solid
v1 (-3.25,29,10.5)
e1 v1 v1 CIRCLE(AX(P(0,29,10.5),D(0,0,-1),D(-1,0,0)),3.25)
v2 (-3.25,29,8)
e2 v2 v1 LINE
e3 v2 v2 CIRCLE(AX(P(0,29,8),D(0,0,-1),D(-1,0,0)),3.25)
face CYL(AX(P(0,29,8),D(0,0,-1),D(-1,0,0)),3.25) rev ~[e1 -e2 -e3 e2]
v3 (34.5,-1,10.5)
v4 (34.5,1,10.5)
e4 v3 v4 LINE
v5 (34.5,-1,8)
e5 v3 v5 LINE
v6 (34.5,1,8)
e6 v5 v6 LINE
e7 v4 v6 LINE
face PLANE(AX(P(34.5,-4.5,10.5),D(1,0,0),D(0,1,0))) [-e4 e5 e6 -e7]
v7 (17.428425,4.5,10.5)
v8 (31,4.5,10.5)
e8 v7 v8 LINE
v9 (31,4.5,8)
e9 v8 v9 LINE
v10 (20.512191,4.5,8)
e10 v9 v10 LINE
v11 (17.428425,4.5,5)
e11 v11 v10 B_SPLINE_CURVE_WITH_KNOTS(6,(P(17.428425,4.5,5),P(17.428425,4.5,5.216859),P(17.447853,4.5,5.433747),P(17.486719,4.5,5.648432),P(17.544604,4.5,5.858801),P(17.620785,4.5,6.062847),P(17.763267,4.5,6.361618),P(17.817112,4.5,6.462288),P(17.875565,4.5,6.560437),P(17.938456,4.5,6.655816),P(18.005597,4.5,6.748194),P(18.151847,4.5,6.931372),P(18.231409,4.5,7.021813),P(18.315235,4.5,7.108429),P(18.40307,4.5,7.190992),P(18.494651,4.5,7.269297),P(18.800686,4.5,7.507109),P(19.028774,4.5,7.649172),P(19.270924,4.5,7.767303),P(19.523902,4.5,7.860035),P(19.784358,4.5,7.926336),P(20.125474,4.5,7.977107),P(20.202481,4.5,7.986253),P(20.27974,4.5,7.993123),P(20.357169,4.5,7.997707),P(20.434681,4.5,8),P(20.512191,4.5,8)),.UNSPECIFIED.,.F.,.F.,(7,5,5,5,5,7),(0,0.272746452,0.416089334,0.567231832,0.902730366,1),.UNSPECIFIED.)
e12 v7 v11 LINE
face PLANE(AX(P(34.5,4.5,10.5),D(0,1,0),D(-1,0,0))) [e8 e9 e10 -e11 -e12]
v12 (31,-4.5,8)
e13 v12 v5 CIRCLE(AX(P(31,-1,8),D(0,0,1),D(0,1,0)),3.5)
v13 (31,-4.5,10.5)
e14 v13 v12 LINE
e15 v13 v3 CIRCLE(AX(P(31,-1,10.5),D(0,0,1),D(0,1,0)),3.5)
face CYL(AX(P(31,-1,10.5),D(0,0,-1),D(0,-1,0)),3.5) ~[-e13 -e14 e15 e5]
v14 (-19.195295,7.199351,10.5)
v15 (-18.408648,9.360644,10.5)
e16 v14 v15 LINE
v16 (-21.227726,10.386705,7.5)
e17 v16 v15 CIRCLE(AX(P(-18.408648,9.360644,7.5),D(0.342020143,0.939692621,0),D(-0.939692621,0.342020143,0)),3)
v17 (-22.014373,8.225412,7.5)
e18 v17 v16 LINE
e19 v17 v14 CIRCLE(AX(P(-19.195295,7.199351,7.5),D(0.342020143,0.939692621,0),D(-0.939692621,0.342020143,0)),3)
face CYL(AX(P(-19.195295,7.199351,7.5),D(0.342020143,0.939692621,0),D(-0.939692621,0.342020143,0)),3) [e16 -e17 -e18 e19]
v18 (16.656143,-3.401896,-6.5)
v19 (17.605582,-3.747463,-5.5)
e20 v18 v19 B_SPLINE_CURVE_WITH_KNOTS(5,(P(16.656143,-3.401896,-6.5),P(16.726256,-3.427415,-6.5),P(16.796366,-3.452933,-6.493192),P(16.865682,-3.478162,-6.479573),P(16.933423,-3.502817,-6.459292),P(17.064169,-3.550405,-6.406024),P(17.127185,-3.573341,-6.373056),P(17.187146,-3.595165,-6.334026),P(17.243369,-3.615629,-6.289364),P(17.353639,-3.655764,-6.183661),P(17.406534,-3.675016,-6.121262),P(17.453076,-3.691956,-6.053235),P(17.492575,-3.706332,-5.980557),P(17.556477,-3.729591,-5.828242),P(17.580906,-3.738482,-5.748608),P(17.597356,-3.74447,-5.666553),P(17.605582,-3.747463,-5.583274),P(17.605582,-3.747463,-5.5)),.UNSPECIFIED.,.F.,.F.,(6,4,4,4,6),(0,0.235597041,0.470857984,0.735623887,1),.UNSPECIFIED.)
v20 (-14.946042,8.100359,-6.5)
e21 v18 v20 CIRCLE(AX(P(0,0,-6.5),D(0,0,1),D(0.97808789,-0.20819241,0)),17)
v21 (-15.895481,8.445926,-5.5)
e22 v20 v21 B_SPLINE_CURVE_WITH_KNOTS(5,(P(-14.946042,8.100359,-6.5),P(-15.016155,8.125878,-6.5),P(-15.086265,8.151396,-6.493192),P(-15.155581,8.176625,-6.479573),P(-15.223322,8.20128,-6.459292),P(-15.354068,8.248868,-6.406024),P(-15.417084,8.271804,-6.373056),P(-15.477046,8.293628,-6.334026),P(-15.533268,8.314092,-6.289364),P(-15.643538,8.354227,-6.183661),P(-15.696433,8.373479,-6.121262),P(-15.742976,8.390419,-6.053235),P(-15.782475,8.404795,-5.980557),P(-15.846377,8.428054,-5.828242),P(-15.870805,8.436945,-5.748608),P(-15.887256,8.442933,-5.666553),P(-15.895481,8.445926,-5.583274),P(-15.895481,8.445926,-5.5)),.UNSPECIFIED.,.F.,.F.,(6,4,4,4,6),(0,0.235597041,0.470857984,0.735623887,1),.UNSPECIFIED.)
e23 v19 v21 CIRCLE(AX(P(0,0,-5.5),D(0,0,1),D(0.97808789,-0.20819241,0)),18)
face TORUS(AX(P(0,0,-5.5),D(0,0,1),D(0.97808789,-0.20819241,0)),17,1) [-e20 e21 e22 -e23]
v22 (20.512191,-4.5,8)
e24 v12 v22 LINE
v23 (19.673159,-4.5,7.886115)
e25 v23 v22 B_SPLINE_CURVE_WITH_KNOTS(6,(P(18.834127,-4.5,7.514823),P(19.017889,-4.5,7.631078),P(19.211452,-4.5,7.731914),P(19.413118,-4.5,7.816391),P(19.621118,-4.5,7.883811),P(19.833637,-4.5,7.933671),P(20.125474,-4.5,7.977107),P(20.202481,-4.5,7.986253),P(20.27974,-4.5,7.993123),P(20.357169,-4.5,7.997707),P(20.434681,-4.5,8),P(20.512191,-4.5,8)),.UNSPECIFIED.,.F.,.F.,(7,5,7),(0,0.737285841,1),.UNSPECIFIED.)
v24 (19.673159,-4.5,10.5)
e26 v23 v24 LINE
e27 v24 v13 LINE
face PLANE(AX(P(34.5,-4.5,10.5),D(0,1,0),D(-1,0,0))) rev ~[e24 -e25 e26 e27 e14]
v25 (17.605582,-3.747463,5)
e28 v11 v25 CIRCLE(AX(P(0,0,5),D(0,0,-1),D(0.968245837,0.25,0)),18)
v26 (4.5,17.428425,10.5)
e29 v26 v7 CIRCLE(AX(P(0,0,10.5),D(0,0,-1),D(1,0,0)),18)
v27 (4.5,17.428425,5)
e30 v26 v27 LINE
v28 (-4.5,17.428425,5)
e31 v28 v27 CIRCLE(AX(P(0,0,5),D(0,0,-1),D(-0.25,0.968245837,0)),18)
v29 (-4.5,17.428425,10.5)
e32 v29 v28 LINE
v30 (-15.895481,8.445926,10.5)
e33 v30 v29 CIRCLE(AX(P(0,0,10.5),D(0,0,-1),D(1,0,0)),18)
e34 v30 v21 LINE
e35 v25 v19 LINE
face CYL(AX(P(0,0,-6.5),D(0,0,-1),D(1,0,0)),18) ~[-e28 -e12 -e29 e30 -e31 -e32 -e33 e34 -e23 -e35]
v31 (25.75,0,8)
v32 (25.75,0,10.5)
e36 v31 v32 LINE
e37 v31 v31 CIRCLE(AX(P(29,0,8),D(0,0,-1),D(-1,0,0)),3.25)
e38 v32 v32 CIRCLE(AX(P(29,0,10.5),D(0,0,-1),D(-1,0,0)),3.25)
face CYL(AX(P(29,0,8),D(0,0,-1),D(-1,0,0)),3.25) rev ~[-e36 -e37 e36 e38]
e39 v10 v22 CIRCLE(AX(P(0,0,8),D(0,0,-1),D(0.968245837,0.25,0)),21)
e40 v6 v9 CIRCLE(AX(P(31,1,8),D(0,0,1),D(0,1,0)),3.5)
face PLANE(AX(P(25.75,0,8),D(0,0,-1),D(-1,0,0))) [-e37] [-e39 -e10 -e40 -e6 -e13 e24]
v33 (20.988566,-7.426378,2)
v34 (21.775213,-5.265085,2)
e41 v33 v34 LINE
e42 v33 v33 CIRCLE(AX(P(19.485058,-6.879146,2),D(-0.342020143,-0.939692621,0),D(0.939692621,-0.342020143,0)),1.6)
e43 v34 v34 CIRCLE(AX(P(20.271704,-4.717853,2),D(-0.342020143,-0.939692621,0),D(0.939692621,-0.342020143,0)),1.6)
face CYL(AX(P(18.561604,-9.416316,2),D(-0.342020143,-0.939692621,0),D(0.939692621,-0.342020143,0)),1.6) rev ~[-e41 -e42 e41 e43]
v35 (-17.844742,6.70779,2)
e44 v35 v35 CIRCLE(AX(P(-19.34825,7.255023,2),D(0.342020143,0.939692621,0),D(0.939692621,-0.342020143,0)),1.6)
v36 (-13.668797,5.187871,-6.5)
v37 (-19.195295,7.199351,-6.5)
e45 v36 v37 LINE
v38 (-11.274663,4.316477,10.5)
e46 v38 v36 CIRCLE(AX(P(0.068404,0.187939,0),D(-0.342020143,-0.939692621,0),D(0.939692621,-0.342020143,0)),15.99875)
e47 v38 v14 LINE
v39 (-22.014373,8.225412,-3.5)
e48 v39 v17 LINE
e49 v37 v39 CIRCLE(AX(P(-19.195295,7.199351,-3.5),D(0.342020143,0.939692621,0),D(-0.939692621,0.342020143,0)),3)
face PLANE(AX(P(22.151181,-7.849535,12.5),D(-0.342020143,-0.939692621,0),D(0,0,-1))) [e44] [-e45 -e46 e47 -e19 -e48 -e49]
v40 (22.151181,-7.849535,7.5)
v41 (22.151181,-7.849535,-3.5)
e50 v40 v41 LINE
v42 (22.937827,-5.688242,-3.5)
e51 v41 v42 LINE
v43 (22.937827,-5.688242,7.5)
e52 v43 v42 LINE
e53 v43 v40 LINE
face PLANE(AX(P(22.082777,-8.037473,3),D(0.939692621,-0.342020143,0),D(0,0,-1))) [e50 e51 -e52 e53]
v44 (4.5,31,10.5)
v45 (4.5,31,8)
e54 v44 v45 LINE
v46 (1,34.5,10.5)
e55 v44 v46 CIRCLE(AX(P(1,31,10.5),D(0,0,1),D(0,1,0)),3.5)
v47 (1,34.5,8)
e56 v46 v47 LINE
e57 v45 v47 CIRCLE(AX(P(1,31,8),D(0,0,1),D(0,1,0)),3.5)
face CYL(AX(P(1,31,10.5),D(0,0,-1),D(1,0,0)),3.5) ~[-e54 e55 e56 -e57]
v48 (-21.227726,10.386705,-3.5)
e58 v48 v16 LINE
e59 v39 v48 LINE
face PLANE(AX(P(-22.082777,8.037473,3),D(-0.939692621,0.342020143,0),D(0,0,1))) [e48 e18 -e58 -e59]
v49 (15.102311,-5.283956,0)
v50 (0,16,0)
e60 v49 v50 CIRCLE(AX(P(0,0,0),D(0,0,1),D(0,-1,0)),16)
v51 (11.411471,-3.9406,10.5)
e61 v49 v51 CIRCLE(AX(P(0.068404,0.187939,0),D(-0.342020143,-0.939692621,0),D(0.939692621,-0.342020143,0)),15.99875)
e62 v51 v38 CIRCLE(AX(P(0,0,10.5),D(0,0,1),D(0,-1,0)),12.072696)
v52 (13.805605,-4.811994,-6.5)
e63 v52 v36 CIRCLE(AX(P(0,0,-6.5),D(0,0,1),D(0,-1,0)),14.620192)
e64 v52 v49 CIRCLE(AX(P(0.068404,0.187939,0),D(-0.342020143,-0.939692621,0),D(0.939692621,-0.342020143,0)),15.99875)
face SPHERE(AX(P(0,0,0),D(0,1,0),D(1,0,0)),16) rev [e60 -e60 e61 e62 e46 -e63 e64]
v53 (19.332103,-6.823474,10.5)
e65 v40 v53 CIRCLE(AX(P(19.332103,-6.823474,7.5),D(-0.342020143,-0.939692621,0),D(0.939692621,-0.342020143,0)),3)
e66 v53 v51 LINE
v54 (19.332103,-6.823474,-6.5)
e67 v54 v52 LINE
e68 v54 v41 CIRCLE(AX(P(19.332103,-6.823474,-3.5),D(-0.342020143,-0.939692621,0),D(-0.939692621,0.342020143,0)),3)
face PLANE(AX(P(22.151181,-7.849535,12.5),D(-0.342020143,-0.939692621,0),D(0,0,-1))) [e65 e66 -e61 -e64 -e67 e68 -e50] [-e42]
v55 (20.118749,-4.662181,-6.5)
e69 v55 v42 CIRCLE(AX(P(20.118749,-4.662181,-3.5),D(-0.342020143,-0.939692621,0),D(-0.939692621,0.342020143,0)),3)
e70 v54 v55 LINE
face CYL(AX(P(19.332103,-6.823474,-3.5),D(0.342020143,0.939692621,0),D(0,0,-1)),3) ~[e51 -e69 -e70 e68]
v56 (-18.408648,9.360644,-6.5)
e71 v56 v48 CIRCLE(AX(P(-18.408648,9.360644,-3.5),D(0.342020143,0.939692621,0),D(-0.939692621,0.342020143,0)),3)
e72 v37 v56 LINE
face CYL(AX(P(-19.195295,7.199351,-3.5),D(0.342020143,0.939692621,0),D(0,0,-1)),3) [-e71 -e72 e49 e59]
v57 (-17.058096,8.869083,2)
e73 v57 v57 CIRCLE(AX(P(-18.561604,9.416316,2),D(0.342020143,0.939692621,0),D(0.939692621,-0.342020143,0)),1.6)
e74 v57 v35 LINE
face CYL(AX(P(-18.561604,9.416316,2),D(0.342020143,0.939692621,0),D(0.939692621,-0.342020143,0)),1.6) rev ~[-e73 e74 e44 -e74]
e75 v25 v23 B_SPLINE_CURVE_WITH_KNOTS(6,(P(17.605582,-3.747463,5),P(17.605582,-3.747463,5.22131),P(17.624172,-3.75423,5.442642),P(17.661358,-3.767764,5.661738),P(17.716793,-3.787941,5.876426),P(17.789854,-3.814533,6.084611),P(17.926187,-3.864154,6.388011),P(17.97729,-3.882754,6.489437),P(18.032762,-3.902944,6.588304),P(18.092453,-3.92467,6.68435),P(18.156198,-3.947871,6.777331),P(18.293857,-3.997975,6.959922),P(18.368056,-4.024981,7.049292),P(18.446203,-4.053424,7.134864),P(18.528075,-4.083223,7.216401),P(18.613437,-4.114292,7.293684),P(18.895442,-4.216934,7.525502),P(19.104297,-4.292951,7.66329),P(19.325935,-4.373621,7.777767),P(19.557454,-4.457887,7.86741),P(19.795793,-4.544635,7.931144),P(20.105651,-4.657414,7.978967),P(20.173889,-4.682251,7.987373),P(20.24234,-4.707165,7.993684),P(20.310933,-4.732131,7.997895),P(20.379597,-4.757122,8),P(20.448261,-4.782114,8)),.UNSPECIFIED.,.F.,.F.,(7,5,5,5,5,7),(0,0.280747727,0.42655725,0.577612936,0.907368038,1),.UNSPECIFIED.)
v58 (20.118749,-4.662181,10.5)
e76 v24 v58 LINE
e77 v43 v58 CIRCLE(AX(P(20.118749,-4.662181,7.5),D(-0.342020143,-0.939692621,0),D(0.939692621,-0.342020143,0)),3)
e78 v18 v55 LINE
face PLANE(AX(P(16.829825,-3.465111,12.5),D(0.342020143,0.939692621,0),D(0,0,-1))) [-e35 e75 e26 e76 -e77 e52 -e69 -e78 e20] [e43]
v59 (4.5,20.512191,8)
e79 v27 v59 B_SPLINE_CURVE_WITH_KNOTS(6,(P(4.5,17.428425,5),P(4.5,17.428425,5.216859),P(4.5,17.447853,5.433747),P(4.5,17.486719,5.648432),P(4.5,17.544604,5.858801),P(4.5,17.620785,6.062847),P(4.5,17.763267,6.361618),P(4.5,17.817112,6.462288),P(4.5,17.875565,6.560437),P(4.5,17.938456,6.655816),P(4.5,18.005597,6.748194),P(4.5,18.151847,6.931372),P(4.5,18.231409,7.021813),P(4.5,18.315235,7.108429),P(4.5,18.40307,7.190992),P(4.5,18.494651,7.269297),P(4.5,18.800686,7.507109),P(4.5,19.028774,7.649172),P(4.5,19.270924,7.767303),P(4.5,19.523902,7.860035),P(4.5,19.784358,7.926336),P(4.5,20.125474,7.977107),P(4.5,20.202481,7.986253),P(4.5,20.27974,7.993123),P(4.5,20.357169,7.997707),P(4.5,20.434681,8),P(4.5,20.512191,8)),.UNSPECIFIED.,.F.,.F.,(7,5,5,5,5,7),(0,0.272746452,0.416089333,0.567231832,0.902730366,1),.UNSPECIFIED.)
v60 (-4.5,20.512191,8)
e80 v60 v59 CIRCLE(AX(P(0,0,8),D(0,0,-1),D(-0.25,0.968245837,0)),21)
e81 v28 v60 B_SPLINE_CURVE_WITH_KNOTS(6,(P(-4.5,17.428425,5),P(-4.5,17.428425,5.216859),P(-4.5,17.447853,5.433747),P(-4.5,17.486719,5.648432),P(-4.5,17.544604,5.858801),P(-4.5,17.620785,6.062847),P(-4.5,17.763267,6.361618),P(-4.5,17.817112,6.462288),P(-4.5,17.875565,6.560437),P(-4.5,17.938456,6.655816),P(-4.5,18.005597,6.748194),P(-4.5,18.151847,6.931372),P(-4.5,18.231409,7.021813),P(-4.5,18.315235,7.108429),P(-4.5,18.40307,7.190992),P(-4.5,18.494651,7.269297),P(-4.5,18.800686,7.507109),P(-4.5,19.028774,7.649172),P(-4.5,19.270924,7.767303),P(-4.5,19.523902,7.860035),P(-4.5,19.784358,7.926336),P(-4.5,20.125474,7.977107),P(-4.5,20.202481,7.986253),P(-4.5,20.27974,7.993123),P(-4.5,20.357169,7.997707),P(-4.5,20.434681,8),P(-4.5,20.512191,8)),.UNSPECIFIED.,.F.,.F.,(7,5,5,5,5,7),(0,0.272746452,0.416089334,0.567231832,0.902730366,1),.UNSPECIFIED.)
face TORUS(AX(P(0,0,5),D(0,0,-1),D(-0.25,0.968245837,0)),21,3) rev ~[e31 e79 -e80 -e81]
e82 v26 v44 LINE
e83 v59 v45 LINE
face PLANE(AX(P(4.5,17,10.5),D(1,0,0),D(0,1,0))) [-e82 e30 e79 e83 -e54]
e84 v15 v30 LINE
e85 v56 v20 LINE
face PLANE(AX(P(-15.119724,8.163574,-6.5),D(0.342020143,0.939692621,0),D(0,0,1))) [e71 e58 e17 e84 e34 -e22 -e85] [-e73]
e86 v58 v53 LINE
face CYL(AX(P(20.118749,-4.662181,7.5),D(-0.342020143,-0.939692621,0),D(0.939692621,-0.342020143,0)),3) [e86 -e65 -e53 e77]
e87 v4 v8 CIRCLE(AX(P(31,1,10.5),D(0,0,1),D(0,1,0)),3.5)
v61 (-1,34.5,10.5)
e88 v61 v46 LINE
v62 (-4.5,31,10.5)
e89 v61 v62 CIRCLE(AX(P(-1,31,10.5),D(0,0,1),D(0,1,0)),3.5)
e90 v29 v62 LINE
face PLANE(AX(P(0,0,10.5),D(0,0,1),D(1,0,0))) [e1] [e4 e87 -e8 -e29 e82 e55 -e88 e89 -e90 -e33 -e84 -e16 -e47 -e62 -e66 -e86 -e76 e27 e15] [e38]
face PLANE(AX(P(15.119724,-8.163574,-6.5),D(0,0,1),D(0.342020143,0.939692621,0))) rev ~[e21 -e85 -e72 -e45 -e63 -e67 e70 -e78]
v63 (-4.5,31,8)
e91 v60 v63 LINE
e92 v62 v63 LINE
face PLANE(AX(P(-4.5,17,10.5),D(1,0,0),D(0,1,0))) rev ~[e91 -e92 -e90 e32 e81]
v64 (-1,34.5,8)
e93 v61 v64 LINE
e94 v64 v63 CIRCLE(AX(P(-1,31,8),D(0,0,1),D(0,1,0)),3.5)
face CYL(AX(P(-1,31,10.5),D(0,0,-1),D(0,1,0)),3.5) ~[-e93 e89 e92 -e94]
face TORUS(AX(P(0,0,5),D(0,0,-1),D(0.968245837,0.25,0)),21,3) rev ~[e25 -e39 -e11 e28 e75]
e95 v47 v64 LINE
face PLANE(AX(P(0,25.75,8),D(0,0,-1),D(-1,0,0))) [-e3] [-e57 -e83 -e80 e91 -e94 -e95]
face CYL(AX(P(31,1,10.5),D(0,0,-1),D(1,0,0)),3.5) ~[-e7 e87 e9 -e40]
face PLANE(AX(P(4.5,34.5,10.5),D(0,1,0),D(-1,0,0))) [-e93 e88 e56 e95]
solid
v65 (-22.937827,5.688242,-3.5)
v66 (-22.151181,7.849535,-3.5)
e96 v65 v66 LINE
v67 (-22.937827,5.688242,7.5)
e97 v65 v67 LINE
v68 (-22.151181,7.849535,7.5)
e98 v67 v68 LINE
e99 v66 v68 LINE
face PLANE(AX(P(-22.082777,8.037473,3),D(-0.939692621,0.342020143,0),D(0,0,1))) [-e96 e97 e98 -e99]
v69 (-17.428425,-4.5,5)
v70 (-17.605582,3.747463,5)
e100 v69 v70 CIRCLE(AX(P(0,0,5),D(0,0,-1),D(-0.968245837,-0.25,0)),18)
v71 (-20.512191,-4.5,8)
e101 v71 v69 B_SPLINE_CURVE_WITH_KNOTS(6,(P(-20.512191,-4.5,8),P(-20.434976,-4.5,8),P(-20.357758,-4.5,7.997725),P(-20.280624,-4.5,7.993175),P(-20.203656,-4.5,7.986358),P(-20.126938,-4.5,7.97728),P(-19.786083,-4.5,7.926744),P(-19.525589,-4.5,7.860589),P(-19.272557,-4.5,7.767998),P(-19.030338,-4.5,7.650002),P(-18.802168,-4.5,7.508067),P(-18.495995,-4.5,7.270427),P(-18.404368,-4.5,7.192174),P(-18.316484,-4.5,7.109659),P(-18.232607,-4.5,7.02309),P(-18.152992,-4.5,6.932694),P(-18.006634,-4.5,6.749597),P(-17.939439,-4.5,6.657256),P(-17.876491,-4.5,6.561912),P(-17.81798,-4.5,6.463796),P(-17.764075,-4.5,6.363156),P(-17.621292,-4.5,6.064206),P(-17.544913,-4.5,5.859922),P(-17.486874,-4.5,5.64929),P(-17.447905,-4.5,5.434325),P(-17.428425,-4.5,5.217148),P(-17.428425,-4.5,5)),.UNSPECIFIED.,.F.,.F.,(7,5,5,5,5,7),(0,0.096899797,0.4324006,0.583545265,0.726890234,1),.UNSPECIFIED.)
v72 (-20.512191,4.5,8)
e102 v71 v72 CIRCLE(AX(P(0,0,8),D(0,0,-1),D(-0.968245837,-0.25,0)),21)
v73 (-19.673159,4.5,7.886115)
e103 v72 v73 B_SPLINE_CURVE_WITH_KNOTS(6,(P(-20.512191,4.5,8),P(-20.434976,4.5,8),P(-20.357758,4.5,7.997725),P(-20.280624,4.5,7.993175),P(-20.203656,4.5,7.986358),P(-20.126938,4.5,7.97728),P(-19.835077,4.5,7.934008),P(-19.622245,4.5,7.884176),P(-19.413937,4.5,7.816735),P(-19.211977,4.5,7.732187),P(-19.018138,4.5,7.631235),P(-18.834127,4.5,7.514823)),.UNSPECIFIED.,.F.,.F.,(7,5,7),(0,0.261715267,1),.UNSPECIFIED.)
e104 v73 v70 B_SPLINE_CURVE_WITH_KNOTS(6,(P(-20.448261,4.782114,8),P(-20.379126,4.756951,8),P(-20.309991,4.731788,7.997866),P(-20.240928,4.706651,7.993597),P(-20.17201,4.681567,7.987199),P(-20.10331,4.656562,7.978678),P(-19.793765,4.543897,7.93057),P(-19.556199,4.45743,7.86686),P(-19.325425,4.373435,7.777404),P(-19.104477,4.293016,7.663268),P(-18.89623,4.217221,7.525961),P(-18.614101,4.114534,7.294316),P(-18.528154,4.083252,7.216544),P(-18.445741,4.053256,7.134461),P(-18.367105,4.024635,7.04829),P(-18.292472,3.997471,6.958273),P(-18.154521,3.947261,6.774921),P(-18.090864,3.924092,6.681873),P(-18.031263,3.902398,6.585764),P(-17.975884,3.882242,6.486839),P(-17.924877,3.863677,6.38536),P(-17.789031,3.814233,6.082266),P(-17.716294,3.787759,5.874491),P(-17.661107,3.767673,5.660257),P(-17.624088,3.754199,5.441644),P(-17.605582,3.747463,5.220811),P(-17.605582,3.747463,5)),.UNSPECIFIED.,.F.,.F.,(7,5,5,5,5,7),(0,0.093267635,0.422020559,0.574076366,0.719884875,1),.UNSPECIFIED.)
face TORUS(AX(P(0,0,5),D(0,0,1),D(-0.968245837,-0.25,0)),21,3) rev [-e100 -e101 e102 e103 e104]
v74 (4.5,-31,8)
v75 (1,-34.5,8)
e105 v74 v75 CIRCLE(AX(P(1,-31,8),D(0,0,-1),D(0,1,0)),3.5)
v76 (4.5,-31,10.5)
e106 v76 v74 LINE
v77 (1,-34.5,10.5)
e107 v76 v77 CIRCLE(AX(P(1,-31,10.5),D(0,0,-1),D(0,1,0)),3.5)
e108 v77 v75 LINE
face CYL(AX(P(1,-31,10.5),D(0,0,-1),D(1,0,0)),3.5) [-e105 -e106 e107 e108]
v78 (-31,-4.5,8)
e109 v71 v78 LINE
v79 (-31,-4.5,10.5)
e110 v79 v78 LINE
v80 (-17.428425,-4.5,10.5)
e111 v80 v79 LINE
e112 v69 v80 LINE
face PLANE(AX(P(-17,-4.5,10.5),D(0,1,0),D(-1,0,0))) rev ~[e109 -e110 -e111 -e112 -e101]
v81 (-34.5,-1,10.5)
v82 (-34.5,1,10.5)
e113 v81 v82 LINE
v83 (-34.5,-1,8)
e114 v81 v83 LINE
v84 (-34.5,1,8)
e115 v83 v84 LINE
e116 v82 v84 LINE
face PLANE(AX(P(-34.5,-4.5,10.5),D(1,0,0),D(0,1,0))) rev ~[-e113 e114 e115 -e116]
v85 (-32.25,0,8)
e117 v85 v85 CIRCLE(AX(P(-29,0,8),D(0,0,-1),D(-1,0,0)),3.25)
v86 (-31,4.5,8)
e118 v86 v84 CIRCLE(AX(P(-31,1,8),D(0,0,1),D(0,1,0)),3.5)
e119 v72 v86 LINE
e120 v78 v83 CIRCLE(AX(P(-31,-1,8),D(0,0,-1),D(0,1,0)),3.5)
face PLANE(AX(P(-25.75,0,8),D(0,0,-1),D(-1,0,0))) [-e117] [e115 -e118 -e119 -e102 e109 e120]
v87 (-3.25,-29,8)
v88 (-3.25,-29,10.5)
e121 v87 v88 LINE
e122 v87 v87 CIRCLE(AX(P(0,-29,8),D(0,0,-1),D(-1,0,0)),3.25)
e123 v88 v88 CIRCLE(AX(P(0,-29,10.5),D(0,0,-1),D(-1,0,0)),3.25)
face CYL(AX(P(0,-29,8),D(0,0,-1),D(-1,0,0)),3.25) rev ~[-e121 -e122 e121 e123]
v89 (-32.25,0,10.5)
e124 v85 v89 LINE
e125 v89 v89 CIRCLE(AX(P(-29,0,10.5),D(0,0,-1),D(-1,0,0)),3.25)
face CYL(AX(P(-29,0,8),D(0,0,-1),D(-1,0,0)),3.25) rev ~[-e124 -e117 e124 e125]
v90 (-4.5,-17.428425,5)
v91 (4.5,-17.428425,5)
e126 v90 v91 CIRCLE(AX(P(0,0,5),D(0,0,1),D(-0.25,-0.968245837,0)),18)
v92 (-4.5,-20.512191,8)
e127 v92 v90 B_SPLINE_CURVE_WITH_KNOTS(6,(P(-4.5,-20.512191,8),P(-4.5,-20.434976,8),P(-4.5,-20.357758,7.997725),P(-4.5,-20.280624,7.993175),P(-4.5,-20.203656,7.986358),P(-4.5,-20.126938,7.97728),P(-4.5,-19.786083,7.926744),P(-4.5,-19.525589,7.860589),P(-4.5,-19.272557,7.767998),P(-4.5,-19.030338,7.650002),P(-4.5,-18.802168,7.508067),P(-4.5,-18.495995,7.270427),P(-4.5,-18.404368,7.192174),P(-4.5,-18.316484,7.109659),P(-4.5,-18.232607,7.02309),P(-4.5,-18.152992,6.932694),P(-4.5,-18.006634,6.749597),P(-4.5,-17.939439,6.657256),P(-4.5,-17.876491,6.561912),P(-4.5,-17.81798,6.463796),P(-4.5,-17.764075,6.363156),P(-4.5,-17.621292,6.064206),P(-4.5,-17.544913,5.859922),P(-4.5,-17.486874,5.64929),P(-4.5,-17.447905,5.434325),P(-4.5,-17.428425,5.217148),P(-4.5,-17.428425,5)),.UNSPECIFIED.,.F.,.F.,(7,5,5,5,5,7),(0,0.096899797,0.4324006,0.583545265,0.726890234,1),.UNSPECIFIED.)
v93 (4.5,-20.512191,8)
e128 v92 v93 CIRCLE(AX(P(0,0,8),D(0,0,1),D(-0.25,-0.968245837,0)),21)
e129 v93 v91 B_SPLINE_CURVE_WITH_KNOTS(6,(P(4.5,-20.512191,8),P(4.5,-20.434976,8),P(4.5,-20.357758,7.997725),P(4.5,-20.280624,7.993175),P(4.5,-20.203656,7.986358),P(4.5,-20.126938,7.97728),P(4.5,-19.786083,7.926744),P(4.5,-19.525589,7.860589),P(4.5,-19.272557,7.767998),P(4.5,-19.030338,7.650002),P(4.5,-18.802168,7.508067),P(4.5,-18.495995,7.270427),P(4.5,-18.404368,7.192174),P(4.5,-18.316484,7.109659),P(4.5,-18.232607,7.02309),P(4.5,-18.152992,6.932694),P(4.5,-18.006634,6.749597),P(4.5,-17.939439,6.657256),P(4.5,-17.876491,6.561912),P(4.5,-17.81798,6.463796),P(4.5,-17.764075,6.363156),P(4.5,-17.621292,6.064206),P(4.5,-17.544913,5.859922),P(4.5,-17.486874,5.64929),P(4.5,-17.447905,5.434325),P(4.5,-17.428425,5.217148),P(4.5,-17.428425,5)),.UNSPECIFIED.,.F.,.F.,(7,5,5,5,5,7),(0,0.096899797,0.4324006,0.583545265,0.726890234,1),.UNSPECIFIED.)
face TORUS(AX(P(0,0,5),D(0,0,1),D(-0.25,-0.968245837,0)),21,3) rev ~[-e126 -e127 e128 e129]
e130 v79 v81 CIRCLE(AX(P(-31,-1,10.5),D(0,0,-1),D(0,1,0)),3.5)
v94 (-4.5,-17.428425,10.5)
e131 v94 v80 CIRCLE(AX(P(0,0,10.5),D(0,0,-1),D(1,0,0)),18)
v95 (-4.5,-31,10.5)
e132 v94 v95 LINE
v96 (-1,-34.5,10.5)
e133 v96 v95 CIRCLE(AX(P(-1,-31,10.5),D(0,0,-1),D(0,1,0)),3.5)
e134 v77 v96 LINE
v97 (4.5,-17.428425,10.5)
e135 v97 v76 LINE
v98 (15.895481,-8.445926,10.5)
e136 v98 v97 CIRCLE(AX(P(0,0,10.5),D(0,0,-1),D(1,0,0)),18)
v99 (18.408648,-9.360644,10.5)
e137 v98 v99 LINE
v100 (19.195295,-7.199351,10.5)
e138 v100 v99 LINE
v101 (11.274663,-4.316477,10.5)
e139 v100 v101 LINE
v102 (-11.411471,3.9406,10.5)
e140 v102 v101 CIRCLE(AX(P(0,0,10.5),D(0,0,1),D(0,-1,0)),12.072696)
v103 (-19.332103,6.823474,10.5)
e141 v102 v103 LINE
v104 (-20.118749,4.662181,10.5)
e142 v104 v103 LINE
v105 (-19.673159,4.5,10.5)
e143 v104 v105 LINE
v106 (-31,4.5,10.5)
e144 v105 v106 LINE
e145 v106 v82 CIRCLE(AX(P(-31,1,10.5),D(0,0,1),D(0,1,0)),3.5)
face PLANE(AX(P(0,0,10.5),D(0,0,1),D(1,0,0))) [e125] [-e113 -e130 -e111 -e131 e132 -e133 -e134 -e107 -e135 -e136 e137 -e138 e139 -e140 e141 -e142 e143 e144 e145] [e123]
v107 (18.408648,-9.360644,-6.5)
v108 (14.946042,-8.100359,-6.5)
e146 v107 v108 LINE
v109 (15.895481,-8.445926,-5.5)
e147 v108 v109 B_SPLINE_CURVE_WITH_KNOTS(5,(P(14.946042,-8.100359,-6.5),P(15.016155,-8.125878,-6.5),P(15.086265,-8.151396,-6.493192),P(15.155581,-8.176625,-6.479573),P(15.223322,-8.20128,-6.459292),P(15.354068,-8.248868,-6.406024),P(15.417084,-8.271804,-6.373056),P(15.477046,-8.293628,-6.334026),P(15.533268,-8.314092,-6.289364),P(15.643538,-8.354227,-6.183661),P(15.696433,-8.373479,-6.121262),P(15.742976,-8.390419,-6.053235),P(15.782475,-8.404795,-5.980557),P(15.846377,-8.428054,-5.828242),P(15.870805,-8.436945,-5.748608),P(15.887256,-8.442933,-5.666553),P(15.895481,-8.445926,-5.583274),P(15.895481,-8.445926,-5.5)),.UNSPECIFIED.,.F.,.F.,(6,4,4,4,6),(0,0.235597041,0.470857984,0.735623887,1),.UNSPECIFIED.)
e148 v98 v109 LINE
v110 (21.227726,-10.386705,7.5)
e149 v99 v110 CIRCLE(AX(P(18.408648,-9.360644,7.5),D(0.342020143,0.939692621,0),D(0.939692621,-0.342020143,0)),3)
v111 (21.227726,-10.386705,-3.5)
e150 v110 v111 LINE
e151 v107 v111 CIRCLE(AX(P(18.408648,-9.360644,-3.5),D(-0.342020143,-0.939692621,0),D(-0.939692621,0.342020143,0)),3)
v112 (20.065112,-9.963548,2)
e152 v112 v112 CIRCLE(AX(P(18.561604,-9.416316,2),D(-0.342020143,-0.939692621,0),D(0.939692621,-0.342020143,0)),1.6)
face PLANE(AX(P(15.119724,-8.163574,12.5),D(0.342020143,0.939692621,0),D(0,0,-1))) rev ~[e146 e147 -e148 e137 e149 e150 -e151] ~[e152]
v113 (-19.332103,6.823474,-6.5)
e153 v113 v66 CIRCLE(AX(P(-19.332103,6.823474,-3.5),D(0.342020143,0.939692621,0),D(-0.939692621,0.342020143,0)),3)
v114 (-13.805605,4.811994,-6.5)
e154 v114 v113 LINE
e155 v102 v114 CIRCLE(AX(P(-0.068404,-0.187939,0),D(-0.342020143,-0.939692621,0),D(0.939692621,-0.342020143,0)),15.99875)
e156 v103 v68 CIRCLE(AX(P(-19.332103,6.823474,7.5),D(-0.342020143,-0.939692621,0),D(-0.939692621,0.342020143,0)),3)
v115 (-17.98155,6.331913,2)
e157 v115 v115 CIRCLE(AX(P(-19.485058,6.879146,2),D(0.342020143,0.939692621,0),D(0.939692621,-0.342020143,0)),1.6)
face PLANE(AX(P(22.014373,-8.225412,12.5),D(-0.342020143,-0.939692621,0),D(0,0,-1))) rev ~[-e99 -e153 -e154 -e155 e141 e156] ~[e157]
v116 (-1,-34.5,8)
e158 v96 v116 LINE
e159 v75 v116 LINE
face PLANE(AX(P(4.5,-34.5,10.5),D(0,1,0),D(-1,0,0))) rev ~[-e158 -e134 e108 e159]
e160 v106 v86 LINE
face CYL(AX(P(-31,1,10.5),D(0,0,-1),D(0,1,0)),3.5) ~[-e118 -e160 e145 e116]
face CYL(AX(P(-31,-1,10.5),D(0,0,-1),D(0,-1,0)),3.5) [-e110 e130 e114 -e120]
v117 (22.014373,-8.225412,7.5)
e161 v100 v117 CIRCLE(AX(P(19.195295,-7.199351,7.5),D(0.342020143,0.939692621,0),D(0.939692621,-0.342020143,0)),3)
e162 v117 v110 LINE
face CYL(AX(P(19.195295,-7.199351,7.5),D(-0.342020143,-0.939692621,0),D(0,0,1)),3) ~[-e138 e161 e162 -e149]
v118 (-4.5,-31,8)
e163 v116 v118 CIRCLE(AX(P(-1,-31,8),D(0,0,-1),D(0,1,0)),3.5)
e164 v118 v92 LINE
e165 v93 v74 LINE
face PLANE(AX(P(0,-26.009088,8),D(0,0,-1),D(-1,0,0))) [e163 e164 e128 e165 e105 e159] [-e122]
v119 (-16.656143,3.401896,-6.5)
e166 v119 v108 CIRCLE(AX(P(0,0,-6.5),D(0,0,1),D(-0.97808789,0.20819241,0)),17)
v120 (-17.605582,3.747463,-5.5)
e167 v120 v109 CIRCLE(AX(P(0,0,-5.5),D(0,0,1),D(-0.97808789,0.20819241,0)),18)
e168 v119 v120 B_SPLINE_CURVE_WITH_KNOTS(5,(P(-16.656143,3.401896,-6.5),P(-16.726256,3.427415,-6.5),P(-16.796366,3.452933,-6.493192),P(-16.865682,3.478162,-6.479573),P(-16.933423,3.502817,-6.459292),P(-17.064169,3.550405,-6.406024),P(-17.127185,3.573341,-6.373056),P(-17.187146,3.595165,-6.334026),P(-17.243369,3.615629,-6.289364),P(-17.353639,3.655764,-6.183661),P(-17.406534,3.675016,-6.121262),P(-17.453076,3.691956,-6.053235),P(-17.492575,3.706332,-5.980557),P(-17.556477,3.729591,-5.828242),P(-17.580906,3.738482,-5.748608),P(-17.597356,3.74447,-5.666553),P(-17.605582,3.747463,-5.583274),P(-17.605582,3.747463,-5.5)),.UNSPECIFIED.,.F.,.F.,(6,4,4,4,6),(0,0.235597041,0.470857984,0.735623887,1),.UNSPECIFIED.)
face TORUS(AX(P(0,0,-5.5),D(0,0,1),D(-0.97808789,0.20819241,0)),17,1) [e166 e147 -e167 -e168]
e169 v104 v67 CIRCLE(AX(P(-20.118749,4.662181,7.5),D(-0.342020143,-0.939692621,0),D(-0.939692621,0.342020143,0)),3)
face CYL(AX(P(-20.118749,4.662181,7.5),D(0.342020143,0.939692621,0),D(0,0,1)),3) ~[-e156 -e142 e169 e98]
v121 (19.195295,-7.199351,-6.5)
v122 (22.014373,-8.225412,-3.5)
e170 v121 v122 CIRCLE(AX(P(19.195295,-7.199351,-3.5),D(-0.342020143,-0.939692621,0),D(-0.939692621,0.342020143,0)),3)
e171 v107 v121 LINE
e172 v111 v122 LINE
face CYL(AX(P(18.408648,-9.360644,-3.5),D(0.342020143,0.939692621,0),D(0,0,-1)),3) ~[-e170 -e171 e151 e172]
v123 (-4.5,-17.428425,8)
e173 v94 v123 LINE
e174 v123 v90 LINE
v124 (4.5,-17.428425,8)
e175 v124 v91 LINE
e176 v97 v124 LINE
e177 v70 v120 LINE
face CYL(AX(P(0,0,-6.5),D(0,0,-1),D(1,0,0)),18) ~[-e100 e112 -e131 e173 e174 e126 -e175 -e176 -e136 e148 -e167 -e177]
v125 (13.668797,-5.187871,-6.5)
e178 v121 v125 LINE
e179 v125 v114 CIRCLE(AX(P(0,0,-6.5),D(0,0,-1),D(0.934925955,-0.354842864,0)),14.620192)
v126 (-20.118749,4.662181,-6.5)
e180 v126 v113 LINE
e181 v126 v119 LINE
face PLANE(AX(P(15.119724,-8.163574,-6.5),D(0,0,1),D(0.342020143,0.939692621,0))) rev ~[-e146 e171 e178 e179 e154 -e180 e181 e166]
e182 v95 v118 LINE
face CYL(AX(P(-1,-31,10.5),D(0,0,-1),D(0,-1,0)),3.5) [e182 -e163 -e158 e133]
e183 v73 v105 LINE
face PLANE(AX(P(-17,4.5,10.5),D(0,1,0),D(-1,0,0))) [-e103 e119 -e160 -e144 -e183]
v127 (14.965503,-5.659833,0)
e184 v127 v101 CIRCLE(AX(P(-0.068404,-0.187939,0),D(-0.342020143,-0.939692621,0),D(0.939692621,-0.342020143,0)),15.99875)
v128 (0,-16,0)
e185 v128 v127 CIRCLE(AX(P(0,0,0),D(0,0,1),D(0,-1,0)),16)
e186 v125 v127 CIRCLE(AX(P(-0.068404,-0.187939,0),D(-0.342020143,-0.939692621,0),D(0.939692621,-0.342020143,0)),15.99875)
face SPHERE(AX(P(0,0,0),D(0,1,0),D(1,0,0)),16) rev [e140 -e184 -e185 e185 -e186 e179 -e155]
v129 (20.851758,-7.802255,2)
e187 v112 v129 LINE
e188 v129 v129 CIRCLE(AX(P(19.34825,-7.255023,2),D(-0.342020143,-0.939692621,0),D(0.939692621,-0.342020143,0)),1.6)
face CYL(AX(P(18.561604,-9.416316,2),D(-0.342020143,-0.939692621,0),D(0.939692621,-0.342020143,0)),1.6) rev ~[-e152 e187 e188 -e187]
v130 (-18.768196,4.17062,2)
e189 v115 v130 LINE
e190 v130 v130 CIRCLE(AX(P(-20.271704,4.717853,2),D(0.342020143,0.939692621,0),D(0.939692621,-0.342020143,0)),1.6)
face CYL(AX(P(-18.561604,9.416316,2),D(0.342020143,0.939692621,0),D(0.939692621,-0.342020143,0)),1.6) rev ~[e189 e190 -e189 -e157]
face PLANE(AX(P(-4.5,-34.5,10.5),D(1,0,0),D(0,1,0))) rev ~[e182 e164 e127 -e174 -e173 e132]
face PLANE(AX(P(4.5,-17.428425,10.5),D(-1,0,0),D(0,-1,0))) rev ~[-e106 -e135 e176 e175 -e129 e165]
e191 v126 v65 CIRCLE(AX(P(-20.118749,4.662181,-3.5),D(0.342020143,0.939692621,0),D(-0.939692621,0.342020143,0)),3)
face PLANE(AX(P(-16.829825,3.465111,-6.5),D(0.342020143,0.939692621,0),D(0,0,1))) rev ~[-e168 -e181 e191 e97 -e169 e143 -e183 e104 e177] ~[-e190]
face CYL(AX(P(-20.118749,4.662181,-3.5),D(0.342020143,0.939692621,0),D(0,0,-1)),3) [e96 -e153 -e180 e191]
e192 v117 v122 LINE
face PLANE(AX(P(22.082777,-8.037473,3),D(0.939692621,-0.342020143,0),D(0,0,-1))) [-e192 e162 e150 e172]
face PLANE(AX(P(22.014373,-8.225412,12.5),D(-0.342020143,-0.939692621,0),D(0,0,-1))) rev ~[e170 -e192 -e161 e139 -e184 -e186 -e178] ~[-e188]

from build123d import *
from build123d.topology import SkipClean

# Parameters (mm, degrees)
EXTRUDE_1_DEPTH      = 12.5
EXTRUDE_1_DEPTH_BACK = 6.5
SKETCH_1_R           = 18
EXTRUDE_2_DEPTH      = 17.5
EXTRUDE_2_DEPTH_BACK = 1
SKETCH_5_W           = 2
SKETCH_5_H           = 9
EXTRUDE_3_DEPTH      = 17.5
EXTRUDE_3_DEPTH_BACK = 1
SKETCH_6_W           = 2
SKETCH_6_H           = 9
EXTRUDE_4_DEPTH      = 17.5
EXTRUDE_4_DEPTH_BACK = 1
SKETCH_8_W           = 9
SKETCH_8_H           = 2
EXTRUDE_5_DEPTH      = 17.5
EXTRUDE_5_DEPTH_BACK = 1
SKETCH_9_W           = 9
SKETCH_9_H           = 2
SKETCH_14_W          = 19
SKETCH_14_H          = 5
EXTRUDE_6_DEPTH      = 6.5
SKETCH_15_W          = 19
SKETCH_15_H          = 5
EXTRUDE_7_DEPTH      = 6.5
SKETCH_17_W          = 19
SKETCH_17_H          = 0.4
CUT_EXTRUDE_1_DEPTH  = 50
SKETCH_34_R          = 3.05
CUT_EXTRUDE_3_DEPTH  = 2
SKETCH_35_R          = 3.05
SKETCH_35_W          = 17.5
SKETCH_35_H          = 9
SKETCH_35_W_2        = 9
SKETCH_35_H_2        = 17.5
EXTRUDE_8_DEPTH      = 2.5
SKETCH_36_R          = 35
CUT_EXTRUDE_4_DEPTH  = 2
SKETCH_37_R          = 1.6
CUT_EXTRUDE_5_DEPTH  = 8
SKETCH_39_R          = 1.6
CUT_EXTRUDE_6_DEPTH  = 8
FILLET_1_R           = 3
FILLET_2_R           = 3.5
FILLET_3_R           = 3.5
SKETCH_40_R          = 3.25
CUT_EXTRUDE_7_DEPTH  = 8
FILLET_4_R           = 3
FILLET_5_R           = 3
FILLET_6_R           = 3
FILLET_7_R           = 1
FILLET_8_R           = 1


with BuildPart() as part:
    # 草图1 → 凸台-拉伸1 (new, two sides: drawn at the far end of the back side and taken through both)
    with BuildSketch(Plane.XY.offset(-EXTRUDE_1_DEPTH_BACK)):
        Circle(SKETCH_1_R)
    extrude(amount=EXTRUDE_1_DEPTH + EXTRUDE_1_DEPTH_BACK)

    # 草图2 → 切除-旋转1 (revolve, cut)
    with BuildSketch(Plane.XY):
        with BuildLine():
            Line((0, 16), (0, -16))
            ThreePointArc((0, -16), (16, 0), (0, 16))
        make_face()
    revolve(axis=Axis((0, 16, 0), (0, -1, 0)), mode=Mode.SUBTRACT)

    # 草图5 → 凸台-拉伸2 (add, two sides: drawn at the far end of the back side and taken through both)
    with BuildSketch(Plane(origin=(17, 0, 0), x_dir=(0, 0, -1), z_dir=(1, 0, 0)).offset(-EXTRUDE_2_DEPTH_BACK)):
        with Locations((-11.5, 0)):
            Rectangle(SKETCH_5_W, SKETCH_5_H)
    extrude(amount=EXTRUDE_2_DEPTH + EXTRUDE_2_DEPTH_BACK)

    # 草图6 → 凸台-拉伸3 (add, two sides: drawn at the far end of the back side and taken through both)
    with BuildSketch(Plane.ZY.offset(17).offset(-EXTRUDE_3_DEPTH_BACK)):
        with Locations((11.5, 0)):
            Rectangle(SKETCH_6_W, SKETCH_6_H)
    extrude(amount=EXTRUDE_3_DEPTH + EXTRUDE_3_DEPTH_BACK)

    # 草图8 → 凸台-拉伸4 (add, two sides: drawn at the far end of the back side and taken through both)
    with BuildSketch(Plane(origin=(0, 17, 0), x_dir=(1, 0, 0), z_dir=(0, 1, 0)).offset(-EXTRUDE_4_DEPTH_BACK)):
        with Locations((0, -11.5)):
            Rectangle(SKETCH_8_W, SKETCH_8_H)
    extrude(amount=EXTRUDE_4_DEPTH + EXTRUDE_4_DEPTH_BACK)

    # 草图9 → 凸台-拉伸5 (add, two sides: drawn at the far end of the back side and taken through both)
    with BuildSketch(Plane(origin=(0, -17, 0), x_dir=(-1, 0, 0), z_dir=(0, -1, 0)).offset(-EXTRUDE_5_DEPTH_BACK)):
        with Locations((0, -11.5)):
            Rectangle(SKETCH_9_W, SKETCH_9_H)
    extrude(amount=EXTRUDE_5_DEPTH + EXTRUDE_5_DEPTH_BACK)

    # 草图14 → 凸台-拉伸6 (add)
    with BuildSketch(Plane(origin=(-15.974774553, 5.814342437, 0), x_dir=(0, 0, 1), z_dir=(-0.9396926207859094, 0.34202014332566616, 0))):
        with Locations((3, 0)):
            Rectangle(SKETCH_14_W, SKETCH_14_H)
    extrude(amount=EXTRUDE_6_DEPTH)

    # 草图15 → 凸台-拉伸7 (add)
    with BuildSketch(Plane(origin=(15.974774553, -5.814342437, 0), x_dir=(0, 0, -1), z_dir=(0.9396926207859094, -0.342020143325666, -6.982962677686269e-15))):
        with Locations((-3, 0)):
            Rectangle(SKETCH_15_W, SKETCH_15_H)
    extrude(amount=EXTRUDE_7_DEPTH)

    # 草图17 → 切除-拉伸1 (cut)
    with BuildSketch(Plane(origin=(22.082776588, -8.037473368, 0), x_dir=(0, 0, -1), z_dir=(0.9396926207859094, -0.34202014332566605, -6.9969521276040904e-15))):
        with Locations((-3, 0)):
            Rectangle(SKETCH_17_W, SKETCH_17_H)
    extrude(amount=-CUT_EXTRUDE_1_DEPTH, mode=Mode.SUBTRACT)


with BuildPart() as cut_extrude_1_piece_1:
    # of the separate pieces the step leaves, piece 1, a body of its own (cut_extrude_1_pieces)
    add(part.part.solids().sort_by_distance((-15.895481302, 8.445926484, -6.5))[0])


with BuildPart() as cut_extrude_1_piece_2:
    # of the separate pieces the step leaves, piece 2, a body of its own (cut_extrude_1_pieces)
    add(part.part.solids().sort_by_distance((4.5, -34.5, 12.5))[0])


with BuildPart() as cut_extrude_3_tool:
    # 草图34 → 切除-拉伸3 (new body)
    with BuildSketch(Plane.XY.offset(12.5)):
        with Locations((29, 0)):
            Circle(SKETCH_34_R)
        with Locations((0, -29)):
            Circle(SKETCH_34_R)
        with Locations((0, 29)):
            Circle(SKETCH_34_R)
        with Locations((-29, 0)):
            Circle(SKETCH_34_R)
    extrude(amount=-CUT_EXTRUDE_3_DEPTH)


with BuildPart() as cut_extrude_1_piece_1_1:
    add(cut_extrude_1_piece_1.part)

    # 切除-拉伸3: cut by cut_extrude_3_tool
    add(cut_extrude_3_tool.part, mode=Mode.SUBTRACT)



with BuildPart() as cut_extrude_1_piece_2_1:
    add(cut_extrude_1_piece_2.part)

    # 切除-拉伸3: cut by cut_extrude_3_tool
    add(cut_extrude_3_tool.part, mode=Mode.SUBTRACT)


with BuildPart() as cut_extrude_1_piece_1_2:
    with SkipClean():  # the faces are left unmerged after this step: merging them gives an invalid solid
        add(cut_extrude_1_piece_1_1.part)

        add(cut_extrude_1_piece_2_1.part)  # 凸台-拉伸8 merges 切除-拉伸1 piece 2
        # 草图35 → 凸台-拉伸8 (add)
        # profile 1 of 4: a face of its own
        with BuildSketch(Plane(origin=(0, 0, 10.5), x_dir=(-1, 0, 0), z_dir=(0, 0, -1))):
            with BuildLine():
                Line((-4.5, -17.428425058), (-4.5, -34.5))
                Line((-4.5, -34.5), (4.5, -34.5))
                Line((4.5, -34.5), (4.5, -17.428425058))
                ThreePointArc((4.5, -17.428425058), (0, -18), (-4.5, -17.428425058))
            make_face()
            with Locations((0, -29)):
                Circle(SKETCH_35_R, mode=Mode.SUBTRACT)
        # profile 2 of 4: a face of its own
        with BuildSketch(Plane(origin=(0, 0, 10.5), x_dir=(-1, 0, 0), z_dir=(0, 0, -1))):
            with Locations((25.75, 0)):
                Rectangle(SKETCH_35_W, SKETCH_35_H)
            with Locations((29, 0)):
                Circle(SKETCH_35_R, mode=Mode.SUBTRACT)
        # profile 3 of 4: a face of its own
        with BuildSketch(Plane(origin=(0, 0, 10.5), x_dir=(-1, 0, 0), z_dir=(0, 0, -1))):
            with Locations((0, 25.75)):
                Rectangle(SKETCH_35_W_2, SKETCH_35_H_2)
            with Locations((0, 29)):
                Circle(SKETCH_35_R, mode=Mode.SUBTRACT)
        # profile 4 of 4: a face of its own
        with BuildSketch(Plane(origin=(0, 0, 10.5), x_dir=(-1, 0, 0), z_dir=(0, 0, -1))):
            with Locations((-25.75, 0)):
                Rectangle(SKETCH_35_W, SKETCH_35_H)
            with Locations((-29, 0)):
                Circle(SKETCH_35_R, mode=Mode.SUBTRACT)
        extrude(amount=EXTRUDE_8_DEPTH)

    # 草图36 → 切除-拉伸4 (cut)
    with BuildSketch(Plane.XY.offset(12.5)):
        Circle(SKETCH_36_R)
    extrude(amount=-CUT_EXTRUDE_4_DEPTH, mode=Mode.SUBTRACT)

    # 草图37 → 切除-拉伸5 (cut)
    with BuildSketch(Plane(origin=(-0.855050358, -2.349231552, 0), x_dir=(0.9396926207859094, -0.342020143325666, 0), z_dir=(-0.342020143325666, -0.9396926207859094, 0))):
        with Locations((20.662771735, 2)):
            Circle(SKETCH_37_R)
    extrude(amount=-CUT_EXTRUDE_5_DEPTH, mode=Mode.SUBTRACT)

    # 草图39 → 切除-拉伸6 (cut)
    with BuildSketch(Plane(origin=(0.855050358, 2.349231552, 0), x_dir=(0.9396926207859094, -0.34202014332566616, 0), z_dir=(0.3420201433256661, 0.9396926207859093, 0))):
        with Locations((-20.662771735, -2)):
            Circle(SKETCH_39_R)
    extrude(amount=-CUT_EXTRUDE_6_DEPTH, mode=Mode.SUBTRACT)

    # 圆角1
    fillet_1_edges = [cut_extrude_1_piece_1_2.edges().sort_by_distance(p)[0] for p in [
        (-22.544503782, 6.76888833, 10.5),
        (-22.544503782, 6.76888833, -6.5),
        (21.621049395, -9.306058406, 10.5),
        (21.621049395, -9.306058406, -6.5),
    ]]
    fillet(fillet_1_edges, radius=FILLET_1_R)

    # 圆角2
    fillet_2_edges = [cut_extrude_1_piece_1_2.edges().sort_by_distance(p)[0] for p in [
        (-34.5, 4.5, 9.25),
        (-34.5, -4.5, 9.25),
        (-4.5, -34.5, 9.25),
        (4.5, -34.5, 9.25),
    ]]
    fillet(fillet_2_edges, radius=FILLET_2_R)

    # 圆角3
    fillet_3_edges = [cut_extrude_1_piece_1_2.edges().sort_by_distance(p)[0] for p in [
        (34.5, -4.5, 9.25),
        (34.5, 4.5, 9.25),
        (4.5, 34.5, 9.25),
        (-4.5, 34.5, 9.25),
    ]]
    fillet(fillet_3_edges, radius=FILLET_3_R)

    # 草图40 → 切除-拉伸7 (cut)
    with BuildSketch(Plane(origin=(0, 0, 8), x_dir=(-1, 0, 0), z_dir=(0, 0, -1))):
        with Locations((0, 29)):
            Circle(SKETCH_40_R)
        with Locations((29, 0)):
            Circle(SKETCH_40_R)
        with Locations((-29, 0)):
            Circle(SKETCH_40_R)
        with Locations((0, -29)):
            Circle(SKETCH_40_R)
    extrude(amount=-CUT_EXTRUDE_7_DEPTH, mode=Mode.SUBTRACT)

    # 圆角4
    fillet_4_edges = [cut_extrude_1_piece_1_2.edges().sort_by_distance(p)[0] for p in [
        (0, 18, 8),
        (17.995848855, 0.386553991, 8),
    ]]
    fillet(fillet_4_edges, radius=FILLET_4_R)

    # 圆角5
    fillet_5_edges = [cut_extrude_1_piece_1_2.edges().sort_by_distance(p)[0] for p in [
        (0, -18, 8),
        (-17.995848855, -0.386553991, 8),
    ]]
    fillet(fillet_5_edges, radius=FILLET_5_R)

    # 圆角6
    fillet_6_edges = [cut_extrude_1_piece_1_2.edges().sort_by_distance(p)[0] for p in [
        (22.544503782, -6.76888833, -6.5),
        (22.544503782, -6.76888833, 10.5),
        (-21.621049395, 9.306058406, 10.5),
        (-21.621049395, 9.306058406, -6.5),
    ]]
    fillet(fillet_6_edges, radius=FILLET_6_R)

    # 圆角7
    fillet_7_edges = [cut_extrude_1_piece_1_2.edges().sort_by_distance(p)[0] for p in [
        (6.15636258, 16.914467174, -6.5),
    ]]
    fillet(fillet_7_edges, radius=FILLET_7_R)

    # 圆角8
    fillet_8_edges = [cut_extrude_1_piece_1_2.edges().sort_by_distance(p)[0] for p in [
        (-6.15636258, -16.914467174, -6.5),
    ]]
    fillet(fillet_8_edges, radius=FILLET_8_R)


solid = cut_extrude_1_piece_1_2.part
